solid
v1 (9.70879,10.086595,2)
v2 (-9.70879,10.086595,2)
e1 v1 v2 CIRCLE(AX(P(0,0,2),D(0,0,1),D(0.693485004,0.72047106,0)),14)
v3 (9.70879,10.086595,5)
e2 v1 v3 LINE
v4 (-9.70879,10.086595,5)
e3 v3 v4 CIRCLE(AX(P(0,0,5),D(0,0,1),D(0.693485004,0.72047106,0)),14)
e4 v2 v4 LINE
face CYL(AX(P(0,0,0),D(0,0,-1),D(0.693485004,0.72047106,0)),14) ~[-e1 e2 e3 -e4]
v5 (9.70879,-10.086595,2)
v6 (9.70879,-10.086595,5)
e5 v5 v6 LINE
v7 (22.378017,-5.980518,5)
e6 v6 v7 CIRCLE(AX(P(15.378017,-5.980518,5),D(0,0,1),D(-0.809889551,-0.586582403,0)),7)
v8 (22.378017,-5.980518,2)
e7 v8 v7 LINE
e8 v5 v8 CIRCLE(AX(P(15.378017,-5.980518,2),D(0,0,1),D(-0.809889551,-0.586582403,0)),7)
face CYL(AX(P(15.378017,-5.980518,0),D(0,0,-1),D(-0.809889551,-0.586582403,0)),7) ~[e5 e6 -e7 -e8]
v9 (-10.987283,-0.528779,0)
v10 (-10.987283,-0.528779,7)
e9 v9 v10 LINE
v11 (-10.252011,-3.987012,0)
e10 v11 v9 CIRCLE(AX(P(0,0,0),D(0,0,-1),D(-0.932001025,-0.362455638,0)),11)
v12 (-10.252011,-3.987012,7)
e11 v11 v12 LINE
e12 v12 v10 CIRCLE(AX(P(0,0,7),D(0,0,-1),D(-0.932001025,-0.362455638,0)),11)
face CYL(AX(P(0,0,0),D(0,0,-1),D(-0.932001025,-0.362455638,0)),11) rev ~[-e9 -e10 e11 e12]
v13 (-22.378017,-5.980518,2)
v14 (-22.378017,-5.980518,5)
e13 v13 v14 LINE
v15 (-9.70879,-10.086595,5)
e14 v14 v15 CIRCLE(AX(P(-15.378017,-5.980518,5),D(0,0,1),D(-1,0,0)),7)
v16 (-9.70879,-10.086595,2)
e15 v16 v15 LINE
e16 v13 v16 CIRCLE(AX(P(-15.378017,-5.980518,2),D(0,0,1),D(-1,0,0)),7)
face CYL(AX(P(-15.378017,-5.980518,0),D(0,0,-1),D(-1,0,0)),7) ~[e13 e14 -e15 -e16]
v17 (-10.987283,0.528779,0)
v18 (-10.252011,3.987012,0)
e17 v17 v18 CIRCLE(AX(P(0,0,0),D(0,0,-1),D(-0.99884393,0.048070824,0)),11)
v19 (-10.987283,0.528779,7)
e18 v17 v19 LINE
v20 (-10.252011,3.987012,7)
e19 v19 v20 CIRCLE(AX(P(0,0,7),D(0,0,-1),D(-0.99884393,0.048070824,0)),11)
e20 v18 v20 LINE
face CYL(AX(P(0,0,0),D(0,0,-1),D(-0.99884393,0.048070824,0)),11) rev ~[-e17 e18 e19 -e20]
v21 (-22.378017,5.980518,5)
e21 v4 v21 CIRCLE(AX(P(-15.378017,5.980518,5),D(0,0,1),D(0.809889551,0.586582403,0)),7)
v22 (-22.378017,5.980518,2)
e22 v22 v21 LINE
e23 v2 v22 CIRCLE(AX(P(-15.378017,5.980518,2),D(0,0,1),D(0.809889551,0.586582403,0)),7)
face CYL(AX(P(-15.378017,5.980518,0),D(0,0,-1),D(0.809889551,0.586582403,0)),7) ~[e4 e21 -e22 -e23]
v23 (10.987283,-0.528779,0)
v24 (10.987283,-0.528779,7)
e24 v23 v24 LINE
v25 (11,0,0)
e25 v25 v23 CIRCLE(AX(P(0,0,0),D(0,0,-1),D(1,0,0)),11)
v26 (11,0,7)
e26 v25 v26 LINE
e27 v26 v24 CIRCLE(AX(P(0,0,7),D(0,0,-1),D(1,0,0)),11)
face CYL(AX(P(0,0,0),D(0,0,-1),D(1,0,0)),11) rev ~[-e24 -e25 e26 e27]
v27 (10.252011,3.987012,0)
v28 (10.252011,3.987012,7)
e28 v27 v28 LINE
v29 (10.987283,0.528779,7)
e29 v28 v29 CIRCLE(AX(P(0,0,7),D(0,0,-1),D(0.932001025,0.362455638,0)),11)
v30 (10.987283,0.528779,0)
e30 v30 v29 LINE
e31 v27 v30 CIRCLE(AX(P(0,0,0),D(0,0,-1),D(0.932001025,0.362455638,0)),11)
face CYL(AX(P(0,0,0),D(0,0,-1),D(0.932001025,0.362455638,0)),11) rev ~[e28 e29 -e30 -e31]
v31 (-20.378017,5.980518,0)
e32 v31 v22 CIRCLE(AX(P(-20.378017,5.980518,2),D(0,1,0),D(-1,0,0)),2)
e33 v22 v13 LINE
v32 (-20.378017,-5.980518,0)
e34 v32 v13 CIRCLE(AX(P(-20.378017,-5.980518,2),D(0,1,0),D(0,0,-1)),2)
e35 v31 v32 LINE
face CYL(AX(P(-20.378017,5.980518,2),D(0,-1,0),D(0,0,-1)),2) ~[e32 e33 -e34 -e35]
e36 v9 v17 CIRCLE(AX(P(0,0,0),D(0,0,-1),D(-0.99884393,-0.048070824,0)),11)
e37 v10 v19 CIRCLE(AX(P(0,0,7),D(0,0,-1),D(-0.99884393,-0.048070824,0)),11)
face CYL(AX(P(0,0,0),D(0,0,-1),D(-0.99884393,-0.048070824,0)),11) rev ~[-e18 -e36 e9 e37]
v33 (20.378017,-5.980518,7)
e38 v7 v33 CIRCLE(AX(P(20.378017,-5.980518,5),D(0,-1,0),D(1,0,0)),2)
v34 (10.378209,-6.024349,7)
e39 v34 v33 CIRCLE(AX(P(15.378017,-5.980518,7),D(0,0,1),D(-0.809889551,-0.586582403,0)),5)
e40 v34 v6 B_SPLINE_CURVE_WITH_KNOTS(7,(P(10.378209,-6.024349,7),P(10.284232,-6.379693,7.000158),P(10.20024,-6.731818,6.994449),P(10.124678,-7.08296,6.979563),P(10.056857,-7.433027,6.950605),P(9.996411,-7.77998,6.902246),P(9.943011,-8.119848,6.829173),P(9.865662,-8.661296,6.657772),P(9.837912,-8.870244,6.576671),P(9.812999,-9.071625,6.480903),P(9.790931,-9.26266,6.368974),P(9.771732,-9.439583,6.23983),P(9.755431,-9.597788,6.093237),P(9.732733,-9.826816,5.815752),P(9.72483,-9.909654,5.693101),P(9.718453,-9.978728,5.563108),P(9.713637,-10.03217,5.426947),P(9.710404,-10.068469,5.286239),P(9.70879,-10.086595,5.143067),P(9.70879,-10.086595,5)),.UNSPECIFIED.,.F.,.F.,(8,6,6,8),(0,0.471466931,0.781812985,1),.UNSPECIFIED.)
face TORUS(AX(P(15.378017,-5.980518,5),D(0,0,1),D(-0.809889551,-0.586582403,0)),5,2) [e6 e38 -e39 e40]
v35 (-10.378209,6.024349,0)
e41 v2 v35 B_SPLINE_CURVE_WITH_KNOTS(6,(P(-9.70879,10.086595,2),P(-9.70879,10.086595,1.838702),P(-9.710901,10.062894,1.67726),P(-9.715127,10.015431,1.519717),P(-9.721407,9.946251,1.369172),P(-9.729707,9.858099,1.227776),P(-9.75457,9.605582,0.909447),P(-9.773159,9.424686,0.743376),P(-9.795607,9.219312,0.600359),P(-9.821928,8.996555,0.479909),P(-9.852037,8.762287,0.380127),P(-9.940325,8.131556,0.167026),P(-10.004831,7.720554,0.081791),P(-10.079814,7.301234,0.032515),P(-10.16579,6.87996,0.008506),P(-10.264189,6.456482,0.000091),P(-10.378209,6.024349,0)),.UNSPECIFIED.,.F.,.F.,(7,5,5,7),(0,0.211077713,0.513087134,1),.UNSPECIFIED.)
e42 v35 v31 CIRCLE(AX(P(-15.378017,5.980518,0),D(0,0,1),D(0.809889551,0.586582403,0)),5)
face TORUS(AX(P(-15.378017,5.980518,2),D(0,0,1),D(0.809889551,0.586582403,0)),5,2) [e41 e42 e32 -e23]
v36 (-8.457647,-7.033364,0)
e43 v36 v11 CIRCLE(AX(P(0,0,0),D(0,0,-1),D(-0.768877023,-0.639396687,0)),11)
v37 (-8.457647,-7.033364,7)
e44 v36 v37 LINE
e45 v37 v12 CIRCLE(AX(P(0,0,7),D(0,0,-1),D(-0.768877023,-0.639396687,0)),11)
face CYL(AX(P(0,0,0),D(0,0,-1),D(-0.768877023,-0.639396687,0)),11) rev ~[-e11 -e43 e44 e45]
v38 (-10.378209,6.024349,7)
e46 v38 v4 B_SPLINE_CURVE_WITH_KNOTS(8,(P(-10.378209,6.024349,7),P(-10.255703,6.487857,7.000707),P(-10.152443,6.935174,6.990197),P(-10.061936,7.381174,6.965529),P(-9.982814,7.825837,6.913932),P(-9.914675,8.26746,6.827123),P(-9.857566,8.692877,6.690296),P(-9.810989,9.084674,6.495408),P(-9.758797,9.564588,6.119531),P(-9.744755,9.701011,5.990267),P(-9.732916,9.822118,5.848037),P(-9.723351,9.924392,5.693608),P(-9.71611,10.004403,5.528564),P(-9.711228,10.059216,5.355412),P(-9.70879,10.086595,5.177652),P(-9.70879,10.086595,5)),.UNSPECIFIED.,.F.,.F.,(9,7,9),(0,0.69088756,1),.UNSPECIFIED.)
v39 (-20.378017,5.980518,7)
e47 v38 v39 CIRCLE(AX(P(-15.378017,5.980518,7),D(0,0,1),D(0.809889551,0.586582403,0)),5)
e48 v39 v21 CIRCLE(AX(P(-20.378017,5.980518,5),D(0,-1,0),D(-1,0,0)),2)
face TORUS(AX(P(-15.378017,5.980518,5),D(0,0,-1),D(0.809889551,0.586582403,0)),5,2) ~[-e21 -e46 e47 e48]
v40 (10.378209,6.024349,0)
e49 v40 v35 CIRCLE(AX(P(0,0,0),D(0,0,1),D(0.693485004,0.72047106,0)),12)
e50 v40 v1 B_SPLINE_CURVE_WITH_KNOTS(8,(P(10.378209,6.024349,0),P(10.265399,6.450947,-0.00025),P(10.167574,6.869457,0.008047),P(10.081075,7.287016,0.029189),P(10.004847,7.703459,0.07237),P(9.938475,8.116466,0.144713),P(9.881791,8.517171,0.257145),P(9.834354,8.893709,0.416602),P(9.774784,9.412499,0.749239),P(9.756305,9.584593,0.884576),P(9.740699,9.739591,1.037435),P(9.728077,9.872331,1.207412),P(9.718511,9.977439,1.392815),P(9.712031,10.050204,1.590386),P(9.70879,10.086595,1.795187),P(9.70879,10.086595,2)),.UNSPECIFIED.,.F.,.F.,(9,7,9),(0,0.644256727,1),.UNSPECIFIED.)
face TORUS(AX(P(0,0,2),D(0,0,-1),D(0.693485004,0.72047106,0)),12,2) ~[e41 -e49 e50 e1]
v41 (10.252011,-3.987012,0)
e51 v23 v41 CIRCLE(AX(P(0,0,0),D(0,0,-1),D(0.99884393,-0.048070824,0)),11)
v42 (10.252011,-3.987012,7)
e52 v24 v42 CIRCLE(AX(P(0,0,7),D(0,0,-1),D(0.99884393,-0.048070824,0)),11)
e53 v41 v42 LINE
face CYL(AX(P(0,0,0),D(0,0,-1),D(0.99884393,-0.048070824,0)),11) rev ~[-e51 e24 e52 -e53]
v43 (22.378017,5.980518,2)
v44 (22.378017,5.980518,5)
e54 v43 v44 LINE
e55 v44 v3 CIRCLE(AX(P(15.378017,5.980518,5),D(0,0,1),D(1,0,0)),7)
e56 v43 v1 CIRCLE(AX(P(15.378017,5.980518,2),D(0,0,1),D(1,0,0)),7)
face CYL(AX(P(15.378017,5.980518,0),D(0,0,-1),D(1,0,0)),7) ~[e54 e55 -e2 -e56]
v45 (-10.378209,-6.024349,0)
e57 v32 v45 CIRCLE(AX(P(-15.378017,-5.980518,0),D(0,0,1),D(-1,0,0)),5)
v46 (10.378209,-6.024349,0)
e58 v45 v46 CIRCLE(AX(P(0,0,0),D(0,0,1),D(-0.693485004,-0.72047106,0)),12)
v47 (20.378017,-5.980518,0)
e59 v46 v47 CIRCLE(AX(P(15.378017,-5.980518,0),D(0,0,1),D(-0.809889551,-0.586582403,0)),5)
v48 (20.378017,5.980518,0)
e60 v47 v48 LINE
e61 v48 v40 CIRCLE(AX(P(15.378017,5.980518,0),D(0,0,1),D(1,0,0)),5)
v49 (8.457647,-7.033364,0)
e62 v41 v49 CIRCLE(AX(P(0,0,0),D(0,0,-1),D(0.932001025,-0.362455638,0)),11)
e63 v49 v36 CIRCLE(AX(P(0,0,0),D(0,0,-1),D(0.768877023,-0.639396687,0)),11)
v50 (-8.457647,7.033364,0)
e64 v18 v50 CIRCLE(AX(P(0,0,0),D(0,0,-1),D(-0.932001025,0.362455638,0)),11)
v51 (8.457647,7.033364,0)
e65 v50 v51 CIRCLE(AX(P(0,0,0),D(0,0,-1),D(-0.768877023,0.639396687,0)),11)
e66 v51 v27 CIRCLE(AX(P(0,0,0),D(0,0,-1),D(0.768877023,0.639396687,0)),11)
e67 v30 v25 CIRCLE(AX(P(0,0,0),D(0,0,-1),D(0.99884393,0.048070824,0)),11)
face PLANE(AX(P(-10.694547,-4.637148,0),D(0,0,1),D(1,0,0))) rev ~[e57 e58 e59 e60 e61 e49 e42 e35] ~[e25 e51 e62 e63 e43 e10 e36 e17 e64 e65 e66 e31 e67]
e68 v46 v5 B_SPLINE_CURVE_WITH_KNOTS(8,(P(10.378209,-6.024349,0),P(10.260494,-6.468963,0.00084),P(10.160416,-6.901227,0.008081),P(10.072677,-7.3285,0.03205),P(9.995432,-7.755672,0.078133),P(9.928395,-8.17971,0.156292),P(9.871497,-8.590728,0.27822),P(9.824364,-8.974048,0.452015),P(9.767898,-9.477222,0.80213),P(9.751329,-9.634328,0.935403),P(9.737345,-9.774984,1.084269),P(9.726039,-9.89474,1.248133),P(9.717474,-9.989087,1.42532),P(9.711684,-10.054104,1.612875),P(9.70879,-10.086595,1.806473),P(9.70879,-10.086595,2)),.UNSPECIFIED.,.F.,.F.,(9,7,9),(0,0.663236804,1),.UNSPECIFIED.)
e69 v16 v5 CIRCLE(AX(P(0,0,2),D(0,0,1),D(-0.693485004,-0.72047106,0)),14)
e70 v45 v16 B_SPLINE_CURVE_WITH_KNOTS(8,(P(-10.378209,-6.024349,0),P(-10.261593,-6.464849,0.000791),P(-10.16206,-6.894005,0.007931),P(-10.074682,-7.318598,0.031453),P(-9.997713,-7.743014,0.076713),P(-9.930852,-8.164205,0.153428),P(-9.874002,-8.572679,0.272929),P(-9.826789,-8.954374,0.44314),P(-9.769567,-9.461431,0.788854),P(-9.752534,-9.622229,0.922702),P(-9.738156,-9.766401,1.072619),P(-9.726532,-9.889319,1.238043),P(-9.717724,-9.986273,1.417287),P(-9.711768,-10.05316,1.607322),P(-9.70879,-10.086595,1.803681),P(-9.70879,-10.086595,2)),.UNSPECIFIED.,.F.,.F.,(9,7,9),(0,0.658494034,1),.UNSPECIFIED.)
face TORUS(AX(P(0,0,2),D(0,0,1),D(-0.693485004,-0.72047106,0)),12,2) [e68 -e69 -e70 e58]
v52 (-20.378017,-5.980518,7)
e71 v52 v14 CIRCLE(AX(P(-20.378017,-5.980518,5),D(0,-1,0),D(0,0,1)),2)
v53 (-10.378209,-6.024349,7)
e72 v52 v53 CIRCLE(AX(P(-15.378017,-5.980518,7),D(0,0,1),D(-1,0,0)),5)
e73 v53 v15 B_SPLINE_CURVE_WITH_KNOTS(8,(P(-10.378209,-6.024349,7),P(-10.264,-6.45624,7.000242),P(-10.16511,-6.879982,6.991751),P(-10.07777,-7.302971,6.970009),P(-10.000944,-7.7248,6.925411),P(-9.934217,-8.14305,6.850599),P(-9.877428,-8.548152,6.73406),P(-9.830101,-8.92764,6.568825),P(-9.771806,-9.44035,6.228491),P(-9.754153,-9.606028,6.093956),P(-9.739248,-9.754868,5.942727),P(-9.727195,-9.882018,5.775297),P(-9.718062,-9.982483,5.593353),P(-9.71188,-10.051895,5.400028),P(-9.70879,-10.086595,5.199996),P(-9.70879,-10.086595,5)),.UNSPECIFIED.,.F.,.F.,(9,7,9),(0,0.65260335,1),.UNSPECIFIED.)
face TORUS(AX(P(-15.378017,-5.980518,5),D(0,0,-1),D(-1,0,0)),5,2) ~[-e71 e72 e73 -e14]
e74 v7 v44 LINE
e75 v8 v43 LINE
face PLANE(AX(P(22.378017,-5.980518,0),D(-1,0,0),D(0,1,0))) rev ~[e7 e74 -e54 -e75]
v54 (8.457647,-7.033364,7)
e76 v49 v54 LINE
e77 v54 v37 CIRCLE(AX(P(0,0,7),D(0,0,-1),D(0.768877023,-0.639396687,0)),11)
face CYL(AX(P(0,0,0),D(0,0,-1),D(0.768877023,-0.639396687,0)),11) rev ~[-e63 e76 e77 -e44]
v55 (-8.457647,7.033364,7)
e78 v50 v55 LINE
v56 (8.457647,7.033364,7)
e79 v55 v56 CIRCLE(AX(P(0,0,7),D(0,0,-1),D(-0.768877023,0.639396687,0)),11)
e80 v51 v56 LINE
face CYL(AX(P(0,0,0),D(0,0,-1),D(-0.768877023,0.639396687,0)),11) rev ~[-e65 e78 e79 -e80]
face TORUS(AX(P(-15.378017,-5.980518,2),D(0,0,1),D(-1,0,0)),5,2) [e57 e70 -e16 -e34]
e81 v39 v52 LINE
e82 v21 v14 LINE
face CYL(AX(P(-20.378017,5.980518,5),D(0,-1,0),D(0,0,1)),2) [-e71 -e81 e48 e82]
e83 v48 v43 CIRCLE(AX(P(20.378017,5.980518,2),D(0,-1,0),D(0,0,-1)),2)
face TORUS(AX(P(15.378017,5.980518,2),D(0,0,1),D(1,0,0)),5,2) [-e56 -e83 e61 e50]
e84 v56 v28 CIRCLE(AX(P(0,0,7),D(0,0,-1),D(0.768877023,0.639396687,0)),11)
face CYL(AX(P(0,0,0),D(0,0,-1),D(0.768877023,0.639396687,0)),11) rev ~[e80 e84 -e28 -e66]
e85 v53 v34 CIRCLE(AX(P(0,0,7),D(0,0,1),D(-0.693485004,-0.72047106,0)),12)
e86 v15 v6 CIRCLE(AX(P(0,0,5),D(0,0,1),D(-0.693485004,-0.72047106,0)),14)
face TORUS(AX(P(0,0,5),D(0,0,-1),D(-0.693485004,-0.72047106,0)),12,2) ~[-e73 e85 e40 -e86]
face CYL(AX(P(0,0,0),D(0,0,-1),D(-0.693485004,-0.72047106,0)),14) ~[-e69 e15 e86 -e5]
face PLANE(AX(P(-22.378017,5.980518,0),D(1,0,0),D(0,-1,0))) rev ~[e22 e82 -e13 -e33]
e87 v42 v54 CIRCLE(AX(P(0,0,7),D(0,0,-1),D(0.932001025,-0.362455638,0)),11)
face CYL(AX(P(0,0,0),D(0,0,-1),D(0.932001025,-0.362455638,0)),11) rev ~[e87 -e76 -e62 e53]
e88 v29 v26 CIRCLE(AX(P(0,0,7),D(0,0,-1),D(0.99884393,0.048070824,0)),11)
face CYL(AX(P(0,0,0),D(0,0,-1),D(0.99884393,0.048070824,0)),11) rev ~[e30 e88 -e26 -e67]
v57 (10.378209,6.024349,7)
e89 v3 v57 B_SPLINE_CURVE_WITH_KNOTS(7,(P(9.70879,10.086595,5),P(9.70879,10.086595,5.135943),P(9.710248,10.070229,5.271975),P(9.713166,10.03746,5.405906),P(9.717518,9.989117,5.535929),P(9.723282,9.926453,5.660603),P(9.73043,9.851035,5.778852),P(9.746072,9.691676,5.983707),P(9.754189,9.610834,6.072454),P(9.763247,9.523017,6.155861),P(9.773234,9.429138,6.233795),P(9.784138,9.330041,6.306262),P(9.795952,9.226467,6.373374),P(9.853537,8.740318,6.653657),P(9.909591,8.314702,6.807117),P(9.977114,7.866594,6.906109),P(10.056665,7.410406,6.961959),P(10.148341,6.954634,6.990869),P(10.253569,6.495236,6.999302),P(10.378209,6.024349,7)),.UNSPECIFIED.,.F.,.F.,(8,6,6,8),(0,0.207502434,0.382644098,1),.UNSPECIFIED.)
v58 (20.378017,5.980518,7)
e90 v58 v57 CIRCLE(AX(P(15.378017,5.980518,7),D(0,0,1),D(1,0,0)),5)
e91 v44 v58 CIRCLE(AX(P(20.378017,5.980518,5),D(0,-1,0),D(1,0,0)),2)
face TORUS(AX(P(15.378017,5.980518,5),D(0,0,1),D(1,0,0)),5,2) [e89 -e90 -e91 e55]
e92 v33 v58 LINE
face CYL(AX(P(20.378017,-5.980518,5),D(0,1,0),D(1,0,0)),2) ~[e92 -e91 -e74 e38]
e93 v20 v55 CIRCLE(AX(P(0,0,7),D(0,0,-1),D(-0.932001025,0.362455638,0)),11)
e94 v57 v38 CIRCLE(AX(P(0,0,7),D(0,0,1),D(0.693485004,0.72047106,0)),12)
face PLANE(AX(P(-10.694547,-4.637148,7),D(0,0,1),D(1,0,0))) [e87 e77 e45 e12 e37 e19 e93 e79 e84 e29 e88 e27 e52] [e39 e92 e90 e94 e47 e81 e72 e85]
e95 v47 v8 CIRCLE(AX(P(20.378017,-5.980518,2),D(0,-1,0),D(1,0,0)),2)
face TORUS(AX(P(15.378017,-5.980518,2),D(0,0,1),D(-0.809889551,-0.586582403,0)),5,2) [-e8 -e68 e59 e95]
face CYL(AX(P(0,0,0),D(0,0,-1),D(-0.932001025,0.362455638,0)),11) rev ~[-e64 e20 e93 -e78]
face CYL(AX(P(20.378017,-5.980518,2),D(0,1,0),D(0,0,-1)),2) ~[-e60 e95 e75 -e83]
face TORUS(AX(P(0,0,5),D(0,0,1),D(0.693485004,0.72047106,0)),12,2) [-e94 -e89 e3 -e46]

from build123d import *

# Parameters (mm, degrees)
F1_DEPTH = 7
F2_DEPTH = 7
F3_R     = 2


with BuildPart() as f1:
    # F0 (on Top) → F1 (new body)
    with BuildSketch(Plane.XY):
        with BuildLine():
            ThreePointArc((-9.7087900596, -10.0865948456), (-8.9007458498, -8.6347522936), (-8.4576472505, -7.0333635613))
            ThreePointArc((-8.4576472505, -7.0333635613), (-9.4780216806, -5.5827506682), (-10.2520112756, -3.9870120147))
            ThreePointArc((-10.2520112756, -3.9870120147), (-10.759495877, -2.2876294437), (-10.9872832267, -0.5287790616))
            ThreePointArc((-10.9872832267, -0.5287790616), (-11.3550654803, -0.2520049718), (-11.7402422931, 0))
            ThreePointArc((-11.7402422931, 0), (-12.8185393367, -0.5347774075), (-13.9725087133, -0.8769265967))
            ThreePointArc((-13.9725087133, -0.8769265967), (-13.9710444343, -0.8999541178), (-13.9695422046, -0.9229791942))
            ThreePointArc((-13.9695422046, -0.9229791942), (-11.1972877772, -2.804985958), (-10.1280169134, -5.9805180221))
            ThreePointArc((-10.1280169134, -5.9805180221), (-10.3305835736, -7.4247883157), (-10.9226518395, -8.757606796))
            ThreePointArc((-10.9226518395, -8.757606796), (-10.3371007066, -9.4416285132), (-9.7087900596, -10.0865948456))
        make_face()
        with BuildLine():
            ThreePointArc((-14.0697397209, 0.8961389265), (-15.3780169134, 0.7305180221), (-16.6862941059, 0.8961389265))
            ThreePointArc((-16.6862941059, 0.8961389265), (-17.8913062675, 0.5527335897), (-19.0157915336, 0))
            ThreePointArc((-19.0157915336, 0), (-17.8913062675, -0.5527335897), (-16.6862941059, -0.8961389265))
            ThreePointArc((-16.6862941059, -0.8961389265), (-15.3780169134, -0.7305180221), (-14.0697397209, -0.8961389265))
            ThreePointArc((-14.0697397209, -0.8961389265), (-14.021090214, -0.8867048469), (-13.9725087133, -0.8769265967))
            ThreePointArc((-13.9725087133, -0.8769265967), (-14, 0), (-13.9725087133, 0.8769265967))
            ThreePointArc((-13.9725087133, 0.8769265967), (-14.021090214, 0.8867048469), (-14.0697397209, 0.8961389265))
        make_face()
        with BuildLine():
            ThreePointArc((-22.3780169134, -5.9805180221), (-17.5361888277, -12.6395189973), (-9.7087900596, -10.0865948456))
            ThreePointArc((-9.7087900596, -10.0865948456), (-10.3371007066, -9.4416285132), (-10.9226518395, -8.757606796))
            ThreePointArc((-10.9226518395, -8.757606796), (-19.6120114574, -9.0846749448), (-16.6862941059, -0.8961389265))
            ThreePointArc((-16.6862941059, -0.8961389265), (-17.8913062675, -0.5527335897), (-19.0157915336, 0))
            ThreePointArc((-19.0157915336, 0), (-21.4798372296, -2.5500969358), (-22.3780169134, -5.9805180221))
        make_face()
        with BuildLine():
            ThreePointArc((-13.9725087133, -0.8769265967), (-12.8185393367, -0.5347774075), (-11.7402422931, 0))
            ThreePointArc((-11.7402422931, 0), (-12.8185393367, 0.5347774075), (-13.9725087133, 0.8769265967))
            ThreePointArc((-13.9725087133, 0.8769265967), (-14, 0), (-13.9725087133, -0.8769265967))
        make_face()
        with BuildLine():
            ThreePointArc((-14.0697397209, -0.8961389265), (-14.019574672, -0.90931159), (-13.9695422046, -0.9229791942))
            ThreePointArc((-13.9695422046, -0.9229791942), (-13.9710444343, -0.8999541178), (-13.9725087133, -0.8769265967))
            ThreePointArc((-13.9725087133, -0.8769265967), (-14.021090214, -0.8867048469), (-14.0697397209, -0.8961389265))
        make_face()
        with BuildLine():
            ThreePointArc((-13.9725087133, 0.8769265967), (-13.9710444343, 0.8999541178), (-13.9695422046, 0.9229791942))
            ThreePointArc((-13.9695422046, 0.9229791942), (-14.019574672, 0.90931159), (-14.0697397209, 0.8961389265))
            ThreePointArc((-14.0697397209, 0.8961389265), (-14.021090214, 0.8867048469), (-13.9725087133, 0.8769265967))
        make_face()
        with BuildLine():
            ThreePointArc((-10.9872832267, -0.5287790616), (-11, 0), (-10.9872832267, 0.5287790616))
            ThreePointArc((-10.9872832267, 0.5287790616), (-11.3550654803, 0.2520049718), (-11.7402422931, 0))
            ThreePointArc((-11.7402422931, 0), (-11.3550654803, -0.2520049718), (-10.9872832267, -0.5287790616))
        make_face()
        with BuildLine():
            ThreePointArc((-10.2520112756, 3.9870120147), (-9.4780216806, 5.5827506682), (-8.4576472505, 7.0333635613))
            ThreePointArc((-8.4576472505, 7.0333635613), (-8.9007458498, 8.6347522936), (-9.7087900596, 10.0865948456))
            ThreePointArc((-9.7087900596, 10.0865948456), (-10.3371007066, 9.4416285132), (-10.9226518395, 8.757606796))
            ThreePointArc((-10.9226518395, 8.757606796), (-10.3305835736, 7.4247883157), (-10.1280169134, 5.9805180221))
            ThreePointArc((-10.1280169134, 5.9805180221), (-11.1972877772, 2.804985958), (-13.9695422046, 0.9229791942))
            ThreePointArc((-13.9695422046, 0.9229791942), (-13.9710444343, 0.8999541178), (-13.9725087133, 0.8769265967))
            ThreePointArc((-13.9725087133, 0.8769265967), (-12.8185393367, 0.5347774075), (-11.7402422931, 0))
            ThreePointArc((-11.7402422931, 0), (-11.3550654803, 0.2520049718), (-10.9872832267, 0.5287790616))
            ThreePointArc((-10.9872832267, 0.5287790616), (-10.759495877, 2.2876294437), (-10.2520112756, 3.9870120147))
        make_face()
        with BuildLine():
            ThreePointArc((-10.9226518395, 8.757606796), (-10.3371007066, 9.4416285132), (-9.7087900596, 10.0865948456))
            ThreePointArc((-9.7087900596, 10.0865948456), (-17.5361888277, 12.6395189973), (-22.3780169134, 5.9805180221))
            ThreePointArc((-22.3780169134, 5.9805180221), (-21.4798372296, 2.5500969358), (-19.0157915336, 0))
            ThreePointArc((-19.0157915336, 0), (-17.8913062675, 0.5527335897), (-16.6862941059, 0.8961389265))
            ThreePointArc((-16.6862941059, 0.8961389265), (-19.6120114574, 9.0846749448), (-10.9226518395, 8.757606796))
        make_face()
        with BuildLine():
            ThreePointArc((10.2520112756, 3.9870120147), (10.759495877, 2.2876294437), (10.9872832267, 0.5287790616))
            ThreePointArc((10.9872832267, 0.5287790616), (11.3550654803, 0.2520049718), (11.7402422931, 0))
            ThreePointArc((11.7402422931, 0), (12.8185393367, 0.5347774075), (13.9725087133, 0.8769265967))
            ThreePointArc((13.9725087133, 0.8769265967), (13.9710444343, 0.8999541178), (13.9695422046, 0.9229791942))
            ThreePointArc((13.9695422046, 0.9229791942), (10.4850115318, 4.0776259241), (10.9226518395, 8.757606796))
            ThreePointArc((10.9226518395, 8.757606796), (10.3371007066, 9.4416285132), (9.7087900596, 10.0865948456))
            ThreePointArc((9.7087900596, 10.0865948456), (8.9007458498, 8.6347522936), (8.4576472505, 7.0333635613))
            ThreePointArc((8.4576472505, 7.0333635613), (9.4780216806, 5.5827506682), (10.2520112756, 3.9870120147))
        make_face()
        with BuildLine():
            ThreePointArc((9.7087900596, -10.0865948456), (8.9007458498, -8.6347522936), (8.4576472505, -7.0333635613))
            ThreePointArc((8.4576472505, -7.0333635613), (0, -11), (-8.4576472505, -7.0333635613))
            ThreePointArc((-8.4576472505, -7.0333635613), (-8.9007458498, -8.6347522936), (-9.7087900596, -10.0865948456))
            ThreePointArc((-9.7087900596, -10.0865948456), (0, -14), (9.7087900596, -10.0865948456))
        make_face()
        with BuildLine():
            ThreePointArc((11.7402422931, 0), (11.3550654803, -0.2520049718), (10.9872832267, -0.5287790616))
            ThreePointArc((10.9872832267, -0.5287790616), (10.759495877, -2.2876294437), (10.2520112756, -3.9870120147))
            ThreePointArc((10.2520112756, -3.9870120147), (9.4780216806, -5.5827506682), (8.4576472505, -7.0333635613))
            ThreePointArc((8.4576472505, -7.0333635613), (8.9007458498, -8.6347522936), (9.7087900596, -10.0865948456))
            ThreePointArc((9.7087900596, -10.0865948456), (10.3371007066, -9.4416285132), (10.9226518395, -8.757606796))
            ThreePointArc((10.9226518395, -8.757606796), (10.4850115318, -4.0776259241), (13.9695422046, -0.9229791942))
            ThreePointArc((13.9695422046, -0.9229791942), (13.9710444343, -0.8999541178), (13.9725087133, -0.8769265967))
            ThreePointArc((13.9725087133, -0.8769265967), (12.8185393367, -0.5347774075), (11.7402422931, 0))
        make_face()
        with BuildLine():
            ThreePointArc((9.7087900596, -10.0865948456), (8.9007458498, -8.6347522936), (8.4576472505, -7.0333635613))
            ThreePointArc((8.4576472505, -7.0333635613), (0, -11), (-8.4576472505, -7.0333635613))
            ThreePointArc((-8.4576472505, -7.0333635613), (-8.9007458498, -8.6347522936), (-9.7087900596, -10.0865948456))
            ThreePointArc((-9.7087900596, -10.0865948456), (0, -14), (9.7087900596, -10.0865948456))
        make_face()
        with BuildLine():
            ThreePointArc((10.9872832267, 0.5287790616), (10.9968203471, 0.2644659772), (11, 0))
            ThreePointArc((11, 0), (10.9968203471, -0.2644659772), (10.9872832267, -0.5287790616))
            ThreePointArc((10.9872832267, -0.5287790616), (11.3550654803, -0.2520049718), (11.7402422931, 0))
            ThreePointArc((11.7402422931, 0), (11.3550654803, 0.2520049718), (10.9872832267, 0.5287790616))
        make_face()
        with BuildLine():
            ThreePointArc((22.3780169134, 5.9805180221), (17.5361888277, 12.6395189973), (9.7087900596, 10.0865948456))
            ThreePointArc((9.7087900596, 10.0865948456), (10.3371007066, 9.4416285132), (10.9226518395, 8.757606796))
            ThreePointArc((10.9226518395, 8.757606796), (16.822287207, 11.0279513618), (20.6280169134, 5.9805180221))
            ThreePointArc((20.6280169134, 5.9805180221), (19.5271707585, 2.7638392427), (16.6862941059, 0.8961389265))
            ThreePointArc((16.6862941059, 0.8961389265), (17.8913062675, 0.5527335897), (19.0157915336, 0))
            ThreePointArc((19.0157915336, 0), (21.4798372296, 2.5500969358), (22.3780169134, 5.9805180221))
        make_face()
        with BuildLine():
            Line((22.3780169134, -5.9805180221), (22.3780169134, 5.9805180221))
            ThreePointArc((22.3780169134, 5.9805180221), (21.4798372296, 2.5500969358), (19.0157915336, 0))
            ThreePointArc((19.0157915336, 0), (21.4798372296, -2.5500969358), (22.3780169134, -5.9805180221))
        make_face()
        with BuildLine():
            ThreePointArc((14, 0), (13.9931254905, -0.4386787056), (13.9725087133, -0.8769265967))
            ThreePointArc((13.9725087133, -0.8769265967), (14.021090214, -0.8867048469), (14.0697397209, -0.8961389265))
            ThreePointArc((14.0697397209, -0.8961389265), (15.3780169134, -0.7305180221), (16.6862941059, -0.8961389265))
            ThreePointArc((16.6862941059, -0.8961389265), (17.8913062675, -0.5527335897), (19.0157915336, 0))
            ThreePointArc((19.0157915336, 0), (17.8913062675, 0.5527335897), (16.6862941059, 0.8961389265))
            ThreePointArc((16.6862941059, 0.8961389265), (15.3780169134, 0.7305180221), (14.0697397209, 0.8961389265))
            ThreePointArc((14.0697397209, 0.8961389265), (14.021090214, 0.8867048469), (13.9725087133, 0.8769265967))
            ThreePointArc((13.9725087133, 0.8769265967), (13.9931254905, 0.4386787056), (14, 0))
        make_face()
        with BuildLine():
            ThreePointArc((10.9226518395, -8.757606796), (10.3371007066, -9.4416285132), (9.7087900596, -10.0865948456))
            ThreePointArc((9.7087900596, -10.0865948456), (17.5361888277, -12.6395189973), (22.3780169134, -5.9805180221))
            ThreePointArc((22.3780169134, -5.9805180221), (21.4798372296, -2.5500969358), (19.0157915336, 0))
            ThreePointArc((19.0157915336, 0), (17.8913062675, -0.5527335897), (16.6862941059, -0.8961389265))
            ThreePointArc((16.6862941059, -0.8961389265), (19.5271707585, -2.7638392427), (20.6280169134, -5.9805180221))
            ThreePointArc((20.6280169134, -5.9805180221), (16.822287207, -11.0279513618), (10.9226518395, -8.757606796))
        make_face()
        with BuildLine():
            ThreePointArc((10.2520112756, 3.9870120147), (10.759495877, 2.2876294437), (10.9872832267, 0.5287790616))
            ThreePointArc((10.9872832267, 0.5287790616), (11.3550654803, 0.2520049718), (11.7402422931, 0))
            ThreePointArc((11.7402422931, 0), (12.8185393367, 0.5347774075), (13.9725087133, 0.8769265967))
            ThreePointArc((13.9725087133, 0.8769265967), (13.9710444343, 0.8999541178), (13.9695422046, 0.9229791942))
            ThreePointArc((13.9695422046, 0.9229791942), (10.4850115318, 4.0776259241), (10.9226518395, 8.757606796))
            ThreePointArc((10.9226518395, 8.757606796), (10.3371007066, 9.4416285132), (9.7087900596, 10.0865948456))
            ThreePointArc((9.7087900596, 10.0865948456), (8.9007458498, 8.6347522936), (8.4576472505, 7.0333635613))
            ThreePointArc((8.4576472505, 7.0333635613), (9.4780216806, 5.5827506682), (10.2520112756, 3.9870120147))
        make_face()
        with BuildLine():
            ThreePointArc((14, 0), (13.9931254905, -0.4386787056), (13.9725087133, -0.8769265967))
            ThreePointArc((13.9725087133, -0.8769265967), (14.021090214, -0.8867048469), (14.0697397209, -0.8961389265))
            ThreePointArc((14.0697397209, -0.8961389265), (15.3780169134, -0.7305180221), (16.6862941059, -0.8961389265))
            ThreePointArc((16.6862941059, -0.8961389265), (17.8913062675, -0.5527335897), (19.0157915336, 0))
            ThreePointArc((19.0157915336, 0), (17.8913062675, 0.5527335897), (16.6862941059, 0.8961389265))
            ThreePointArc((16.6862941059, 0.8961389265), (15.3780169134, 0.7305180221), (14.0697397209, 0.8961389265))
            ThreePointArc((14.0697397209, 0.8961389265), (14.021090214, 0.8867048469), (13.9725087133, 0.8769265967))
            ThreePointArc((13.9725087133, 0.8769265967), (13.9931254905, 0.4386787056), (14, 0))
        make_face()
        with BuildLine():
            ThreePointArc((13.9695422046, 0.9229791942), (13.9710444343, 0.8999541178), (13.9725087133, 0.8769265967))
            ThreePointArc((13.9725087133, 0.8769265967), (14.021090214, 0.8867048469), (14.0697397209, 0.8961389265))
            ThreePointArc((14.0697397209, 0.8961389265), (14.019574672, 0.90931159), (13.9695422046, 0.9229791942))
        make_face()
        with BuildLine():
            ThreePointArc((-19.0157915336, 0), (-21.4798372296, 2.5500969358), (-22.3780169134, 5.9805180221))
            Line((-22.3780169134, 5.9805180221), (-22.3780169134, -5.9805180221))
            ThreePointArc((-22.3780169134, -5.9805180221), (-21.4798372296, -2.5500969358), (-19.0157915336, 0))
        make_face()
        with BuildLine():
            ThreePointArc((-8.4576472505, 7.0333635613), (0, 11), (8.4576472505, 7.0333635613))
            ThreePointArc((8.4576472505, 7.0333635613), (8.9007458498, 8.6347522936), (9.7087900596, 10.0865948456))
            ThreePointArc((9.7087900596, 10.0865948456), (0, 14), (-9.7087900596, 10.0865948456))
            ThreePointArc((-9.7087900596, 10.0865948456), (-8.9007458498, 8.6347522936), (-8.4576472505, 7.0333635613))
        make_face()
    extrude(amount=F1_DEPTH)

    # F0 (on Top) → F2 (join)
    with BuildSketch(Plane.XY):
        with BuildLine():
            ThreePointArc((-9.7087900596, -10.0865948456), (-8.9007458498, -8.6347522936), (-8.4576472505, -7.0333635613))
            ThreePointArc((-8.4576472505, -7.0333635613), (-9.4780216806, -5.5827506682), (-10.2520112756, -3.9870120147))
            ThreePointArc((-10.2520112756, -3.9870120147), (-10.759495877, -2.2876294437), (-10.9872832267, -0.5287790616))
            ThreePointArc((-10.9872832267, -0.5287790616), (-11.3550654803, -0.2520049718), (-11.7402422931, 0))
            ThreePointArc((-11.7402422931, 0), (-12.8185393367, -0.5347774075), (-13.9725087133, -0.8769265967))
            ThreePointArc((-13.9725087133, -0.8769265967), (-13.9710444343, -0.8999541178), (-13.9695422046, -0.9229791942))
            ThreePointArc((-13.9695422046, -0.9229791942), (-11.1972877772, -2.804985958), (-10.1280169134, -5.9805180221))
            ThreePointArc((-10.1280169134, -5.9805180221), (-10.3305835736, -7.4247883157), (-10.9226518395, -8.757606796))
            ThreePointArc((-10.9226518395, -8.757606796), (-10.3371007066, -9.4416285132), (-9.7087900596, -10.0865948456))
        make_face()
        with BuildLine():
            ThreePointArc((-22.3780169134, -5.9805180221), (-17.5361888277, -12.6395189973), (-9.7087900596, -10.0865948456))
            ThreePointArc((-9.7087900596, -10.0865948456), (-10.3371007066, -9.4416285132), (-10.9226518395, -8.757606796))
            ThreePointArc((-10.9226518395, -8.757606796), (-19.6120114574, -9.0846749448), (-16.6862941059, -0.8961389265))
            ThreePointArc((-16.6862941059, -0.8961389265), (-17.8913062675, -0.5527335897), (-19.0157915336, 0))
            ThreePointArc((-19.0157915336, 0), (-21.4798372296, -2.5500969358), (-22.3780169134, -5.9805180221))
        make_face()
        with BuildLine():
            ThreePointArc((-14.0697397209, 0.8961389265), (-15.3780169134, 0.7305180221), (-16.6862941059, 0.8961389265))
            ThreePointArc((-16.6862941059, 0.8961389265), (-17.8913062675, 0.5527335897), (-19.0157915336, 0))
            ThreePointArc((-19.0157915336, 0), (-17.8913062675, -0.5527335897), (-16.6862941059, -0.8961389265))
            ThreePointArc((-16.6862941059, -0.8961389265), (-15.3780169134, -0.7305180221), (-14.0697397209, -0.8961389265))
            ThreePointArc((-14.0697397209, -0.8961389265), (-14.021090214, -0.8867048469), (-13.9725087133, -0.8769265967))
            ThreePointArc((-13.9725087133, -0.8769265967), (-14, 0), (-13.9725087133, 0.8769265967))
            ThreePointArc((-13.9725087133, 0.8769265967), (-14.021090214, 0.8867048469), (-14.0697397209, 0.8961389265))
        make_face()
        with BuildLine():
            ThreePointArc((-10.9226518395, 8.757606796), (-10.3371007066, 9.4416285132), (-9.7087900596, 10.0865948456))
            ThreePointArc((-9.7087900596, 10.0865948456), (-17.5361888277, 12.6395189973), (-22.3780169134, 5.9805180221))
            ThreePointArc((-22.3780169134, 5.9805180221), (-21.4798372296, 2.5500969358), (-19.0157915336, 0))
            ThreePointArc((-19.0157915336, 0), (-17.8913062675, 0.5527335897), (-16.6862941059, 0.8961389265))
            ThreePointArc((-16.6862941059, 0.8961389265), (-19.6120114574, 9.0846749448), (-10.9226518395, 8.757606796))
        make_face()
        with BuildLine():
            ThreePointArc((-8.4576472505, 7.0333635613), (0, 11), (8.4576472505, 7.0333635613))
            ThreePointArc((8.4576472505, 7.0333635613), (8.9007458498, 8.6347522936), (9.7087900596, 10.0865948456))
            ThreePointArc((9.7087900596, 10.0865948456), (0, 14), (-9.7087900596, 10.0865948456))
            ThreePointArc((-9.7087900596, 10.0865948456), (-8.9007458498, 8.6347522936), (-8.4576472505, 7.0333635613))
        make_face()
        with BuildLine():
            ThreePointArc((-10.1280169134, 5.9805180221), (-10.3305835736, 7.4247883157), (-10.9226518395, 8.757606796))
            ThreePointArc((-10.9226518395, 8.757606796), (-13.0480143507, 5.0743789278), (-13.9695422046, 0.9229791942))
            ThreePointArc((-13.9695422046, 0.9229791942), (-11.1972877772, 2.804985958), (-10.1280169134, 5.9805180221))
        make_face()
        with BuildLine():
            ThreePointArc((-13.9695422046, 0.9229791942), (-13.0480143507, 5.0743789278), (-10.9226518395, 8.757606796))
            ThreePointArc((-10.9226518395, 8.757606796), (-19.6120114574, 9.0846749448), (-16.6862941059, 0.8961389265))
            ThreePointArc((-16.6862941059, 0.8961389265), (-15.3780169134, 1.0194819779), (-14.0697397209, 0.8961389265))
            ThreePointArc((-14.0697397209, 0.8961389265), (-14.019574672, 0.90931159), (-13.9695422046, 0.9229791942))
        make_face()
        with BuildLine():
            ThreePointArc((-10.2520112756, 3.9870120147), (-9.4780216806, 5.5827506682), (-8.4576472505, 7.0333635613))
            ThreePointArc((-8.4576472505, 7.0333635613), (-8.9007458498, 8.6347522936), (-9.7087900596, 10.0865948456))
            ThreePointArc((-9.7087900596, 10.0865948456), (-10.3371007066, 9.4416285132), (-10.9226518395, 8.757606796))
            ThreePointArc((-10.9226518395, 8.757606796), (-10.3305835736, 7.4247883157), (-10.1280169134, 5.9805180221))
            ThreePointArc((-10.1280169134, 5.9805180221), (-11.1972877772, 2.804985958), (-13.9695422046, 0.9229791942))
            ThreePointArc((-13.9695422046, 0.9229791942), (-13.9710444343, 0.8999541178), (-13.9725087133, 0.8769265967))
            ThreePointArc((-13.9725087133, 0.8769265967), (-12.8185393367, 0.5347774075), (-11.7402422931, 0))
            ThreePointArc((-11.7402422931, 0), (-11.3550654803, 0.2520049718), (-10.9872832267, 0.5287790616))
            ThreePointArc((-10.9872832267, 0.5287790616), (-10.759495877, 2.2876294437), (-10.2520112756, 3.9870120147))
        make_face()
        with BuildLine():
            ThreePointArc((-13.9725087133, -0.8769265967), (-12.8185393367, -0.5347774075), (-11.7402422931, 0))
            ThreePointArc((-11.7402422931, 0), (-12.8185393367, 0.5347774075), (-13.9725087133, 0.8769265967))
            ThreePointArc((-13.9725087133, 0.8769265967), (-14, 0), (-13.9725087133, -0.8769265967))
        make_face()
        with BuildLine():
            ThreePointArc((-13.9695422046, -0.9229791942), (-13.0480143507, -5.0743789278), (-10.9226518395, -8.757606796))
            ThreePointArc((-10.9226518395, -8.757606796), (-10.3305835736, -7.4247883157), (-10.1280169134, -5.9805180221))
            ThreePointArc((-10.1280169134, -5.9805180221), (-11.1972877772, -2.804985958), (-13.9695422046, -0.9229791942))
        make_face()
        with BuildLine():
            ThreePointArc((9.7087900596, -10.0865948456), (8.9007458498, -8.6347522936), (8.4576472505, -7.0333635613))
            ThreePointArc((8.4576472505, -7.0333635613), (0, -11), (-8.4576472505, -7.0333635613))
            ThreePointArc((-8.4576472505, -7.0333635613), (-8.9007458498, -8.6347522936), (-9.7087900596, -10.0865948456))
            ThreePointArc((-9.7087900596, -10.0865948456), (0, -14), (9.7087900596, -10.0865948456))
        make_face()
        with BuildLine():
            ThreePointArc((11.7402422931, 0), (11.3550654803, -0.2520049718), (10.9872832267, -0.5287790616))
            ThreePointArc((10.9872832267, -0.5287790616), (10.759495877, -2.2876294437), (10.2520112756, -3.9870120147))
            ThreePointArc((10.2520112756, -3.9870120147), (9.4780216806, -5.5827506682), (8.4576472505, -7.0333635613))
            ThreePointArc((8.4576472505, -7.0333635613), (8.9007458498, -8.6347522936), (9.7087900596, -10.0865948456))
            ThreePointArc((9.7087900596, -10.0865948456), (10.3371007066, -9.4416285132), (10.9226518395, -8.757606796))
            ThreePointArc((10.9226518395, -8.757606796), (10.4850115318, -4.0776259241), (13.9695422046, -0.9229791942))
            ThreePointArc((13.9695422046, -0.9229791942), (13.9710444343, -0.8999541178), (13.9725087133, -0.8769265967))
            ThreePointArc((13.9725087133, -0.8769265967), (12.8185393367, -0.5347774075), (11.7402422931, 0))
        make_face()
        with BuildLine():
            ThreePointArc((-16.6862941059, -0.8961389265), (-19.6120114574, -9.0846749448), (-10.9226518395, -8.757606796))
            ThreePointArc((-10.9226518395, -8.757606796), (-13.0480143507, -5.0743789278), (-13.9695422046, -0.9229791942))
            ThreePointArc((-13.9695422046, -0.9229791942), (-14.019574672, -0.90931159), (-14.0697397209, -0.8961389265))
            ThreePointArc((-14.0697397209, -0.8961389265), (-15.3780169134, -1.0194819779), (-16.6862941059, -0.8961389265))
        make_face()
        with BuildLine():
            ThreePointArc((10.9226518395, -8.757606796), (13.0480143507, -5.0743789278), (13.9695422046, -0.9229791942))
            ThreePointArc((13.9695422046, -0.9229791942), (10.4850115318, -4.0776259241), (10.9226518395, -8.757606796))
        make_face()
        with BuildLine():
            ThreePointArc((13.9725087133, 0.8769265967), (12.8185393367, 0.5347774075), (11.7402422931, 0))
            ThreePointArc((11.7402422931, 0), (12.8185393367, -0.5347774075), (13.9725087133, -0.8769265967))
            ThreePointArc((13.9725087133, -0.8769265967), (13.9931254905, -0.4386787056), (14, 0))
            ThreePointArc((14, 0), (13.9931254905, 0.4386787056), (13.9725087133, 0.8769265967))
        make_face()
        with BuildLine():
            ThreePointArc((10.2520112756, 3.9870120147), (10.759495877, 2.2876294437), (10.9872832267, 0.5287790616))
            ThreePointArc((10.9872832267, 0.5287790616), (11.3550654803, 0.2520049718), (11.7402422931, 0))
            ThreePointArc((11.7402422931, 0), (12.8185393367, 0.5347774075), (13.9725087133, 0.8769265967))
            ThreePointArc((13.9725087133, 0.8769265967), (13.9710444343, 0.8999541178), (13.9695422046, 0.9229791942))
            ThreePointArc((13.9695422046, 0.9229791942), (10.4850115318, 4.0776259241), (10.9226518395, 8.757606796))
            ThreePointArc((10.9226518395, 8.757606796), (10.3371007066, 9.4416285132), (9.7087900596, 10.0865948456))
            ThreePointArc((9.7087900596, 10.0865948456), (8.9007458498, 8.6347522936), (8.4576472505, 7.0333635613))
            ThreePointArc((8.4576472505, 7.0333635613), (9.4780216806, 5.5827506682), (10.2520112756, 3.9870120147))
        make_face()
        with BuildLine():
            ThreePointArc((10.9226518395, 8.757606796), (10.4850115318, 4.0776259241), (13.9695422046, 0.9229791942))
            ThreePointArc((13.9695422046, 0.9229791942), (13.0480143507, 5.0743789278), (10.9226518395, 8.757606796))
        make_face()
        with BuildLine():
            ThreePointArc((22.3780169134, 5.9805180221), (17.5361888277, 12.6395189973), (9.7087900596, 10.0865948456))
            ThreePointArc((9.7087900596, 10.0865948456), (10.3371007066, 9.4416285132), (10.9226518395, 8.757606796))
            ThreePointArc((10.9226518395, 8.757606796), (16.822287207, 11.0279513618), (20.6280169134, 5.9805180221))
            ThreePointArc((20.6280169134, 5.9805180221), (19.5271707585, 2.7638392427), (16.6862941059, 0.8961389265))
            ThreePointArc((16.6862941059, 0.8961389265), (17.8913062675, 0.5527335897), (19.0157915336, 0))
            ThreePointArc((19.0157915336, 0), (21.4798372296, 2.5500969358), (22.3780169134, 5.9805180221))
        make_face()
        with BuildLine():
            ThreePointArc((14, 0), (13.9931254905, -0.4386787056), (13.9725087133, -0.8769265967))
            ThreePointArc((13.9725087133, -0.8769265967), (14.021090214, -0.8867048469), (14.0697397209, -0.8961389265))
            ThreePointArc((14.0697397209, -0.8961389265), (15.3780169134, -0.7305180221), (16.6862941059, -0.8961389265))
            ThreePointArc((16.6862941059, -0.8961389265), (17.8913062675, -0.5527335897), (19.0157915336, 0))
            ThreePointArc((19.0157915336, 0), (17.8913062675, 0.5527335897), (16.6862941059, 0.8961389265))
            ThreePointArc((16.6862941059, 0.8961389265), (15.3780169134, 0.7305180221), (14.0697397209, 0.8961389265))
            ThreePointArc((14.0697397209, 0.8961389265), (14.021090214, 0.8867048469), (13.9725087133, 0.8769265967))
            ThreePointArc((13.9725087133, 0.8769265967), (13.9931254905, 0.4386787056), (14, 0))
        make_face()
        with BuildLine():
            ThreePointArc((-14.0697397209, -0.8961389265), (-14.019574672, -0.90931159), (-13.9695422046, -0.9229791942))
            ThreePointArc((-13.9695422046, -0.9229791942), (-13.9710444343, -0.8999541178), (-13.9725087133, -0.8769265967))
            ThreePointArc((-13.9725087133, -0.8769265967), (-14.021090214, -0.8867048469), (-14.0697397209, -0.8961389265))
        make_face()
        with BuildLine():
            ThreePointArc((-13.9725087133, 0.8769265967), (-13.9710444343, 0.8999541178), (-13.9695422046, 0.9229791942))
            ThreePointArc((-13.9695422046, 0.9229791942), (-14.019574672, 0.90931159), (-14.0697397209, 0.8961389265))
            ThreePointArc((-14.0697397209, 0.8961389265), (-14.021090214, 0.8867048469), (-13.9725087133, 0.8769265967))
        make_face()
        with BuildLine():
            ThreePointArc((10.9226518395, -8.757606796), (10.3371007066, -9.4416285132), (9.7087900596, -10.0865948456))
            ThreePointArc((9.7087900596, -10.0865948456), (17.5361888277, -12.6395189973), (22.3780169134, -5.9805180221))
            ThreePointArc((22.3780169134, -5.9805180221), (21.4798372296, -2.5500969358), (19.0157915336, 0))
            ThreePointArc((19.0157915336, 0), (17.8913062675, -0.5527335897), (16.6862941059, -0.8961389265))
            ThreePointArc((16.6862941059, -0.8961389265), (19.5271707585, -2.7638392427), (20.6280169134, -5.9805180221))
            ThreePointArc((20.6280169134, -5.9805180221), (16.822287207, -11.0279513618), (10.9226518395, -8.757606796))
        make_face()
        with BuildLine():
            ThreePointArc((14.0697397209, -0.8961389265), (14.019574672, -0.90931159), (13.9695422046, -0.9229791942))
            ThreePointArc((13.9695422046, -0.9229791942), (13.0480143507, -5.0743789278), (10.9226518395, -8.757606796))
            ThreePointArc((10.9226518395, -8.757606796), (16.822287207, -11.0279513618), (20.6280169134, -5.9805180221))
            ThreePointArc((20.6280169134, -5.9805180221), (19.5271707585, -2.7638392427), (16.6862941059, -0.8961389265))
            ThreePointArc((16.6862941059, -0.8961389265), (15.3780169134, -1.0194819779), (14.0697397209, -0.8961389265))
        make_face()
        with BuildLine():
            ThreePointArc((-14.0697397209, 0.8961389265), (-15.3780169134, 1.0194819779), (-16.6862941059, 0.8961389265))
            ThreePointArc((-16.6862941059, 0.8961389265), (-15.3780169134, 0.7305180221), (-14.0697397209, 0.8961389265))
        make_face()
        with BuildLine():
            ThreePointArc((-14.0697397209, -0.8961389265), (-15.3780169134, -0.7305180221), (-16.6862941059, -0.8961389265))
            ThreePointArc((-16.6862941059, -0.8961389265), (-15.3780169134, -1.0194819779), (-14.0697397209, -0.8961389265))
        make_face()
        with BuildLine():
            ThreePointArc((14.0697397209, -0.8961389265), (14.021090214, -0.8867048469), (13.9725087133, -0.8769265967))
            ThreePointArc((13.9725087133, -0.8769265967), (13.9710444343, -0.8999541178), (13.9695422046, -0.9229791942))
            ThreePointArc((13.9695422046, -0.9229791942), (14.019574672, -0.90931159), (14.0697397209, -0.8961389265))
        make_face()
        with BuildLine():
            ThreePointArc((16.6862941059, -0.8961389265), (15.3780169134, -0.7305180221), (14.0697397209, -0.8961389265))
            ThreePointArc((14.0697397209, -0.8961389265), (15.3780169134, -1.0194819779), (16.6862941059, -0.8961389265))
        make_face()
        with BuildLine():
            ThreePointArc((13.9695422046, 0.9229791942), (13.9710444343, 0.8999541178), (13.9725087133, 0.8769265967))
            ThreePointArc((13.9725087133, 0.8769265967), (14.021090214, 0.8867048469), (14.0697397209, 0.8961389265))
            ThreePointArc((14.0697397209, 0.8961389265), (14.019574672, 0.90931159), (13.9695422046, 0.9229791942))
        make_face()
        with BuildLine():
            ThreePointArc((16.6862941059, 0.8961389265), (15.3780169134, 1.0194819779), (14.0697397209, 0.8961389265))
            ThreePointArc((14.0697397209, 0.8961389265), (15.3780169134, 0.7305180221), (16.6862941059, 0.8961389265))
        make_face()
        with BuildLine():
            ThreePointArc((10.9872832267, 0.5287790616), (10.9968203471, 0.2644659772), (11, 0))
            ThreePointArc((11, 0), (10.9968203471, -0.2644659772), (10.9872832267, -0.5287790616))
            ThreePointArc((10.9872832267, -0.5287790616), (11.3550654803, -0.2520049718), (11.7402422931, 0))
            ThreePointArc((11.7402422931, 0), (11.3550654803, 0.2520049718), (10.9872832267, 0.5287790616))
        make_face()
        with BuildLine():
            ThreePointArc((-10.9872832267, -0.5287790616), (-11, 0), (-10.9872832267, 0.5287790616))
            ThreePointArc((-10.9872832267, 0.5287790616), (-11.3550654803, 0.2520049718), (-11.7402422931, 0))
            ThreePointArc((-11.7402422931, 0), (-11.3550654803, -0.2520049718), (-10.9872832267, -0.5287790616))
        make_face()
        with BuildLine():
            ThreePointArc((10.9226518395, 8.757606796), (13.0480143507, 5.0743789278), (13.9695422046, 0.9229791942))
            ThreePointArc((13.9695422046, 0.9229791942), (14.019574672, 0.90931159), (14.0697397209, 0.8961389265))
            ThreePointArc((14.0697397209, 0.8961389265), (15.3780169134, 1.0194819779), (16.6862941059, 0.8961389265))
            ThreePointArc((16.6862941059, 0.8961389265), (19.5271707585, 2.7638392427), (20.6280169134, 5.9805180221))
            ThreePointArc((20.6280169134, 5.9805180221), (16.822287207, 11.0279513618), (10.9226518395, 8.757606796))
        make_face()
        with BuildLine():
            Line((22.3780169134, -5.9805180221), (22.3780169134, 5.9805180221))
            ThreePointArc((22.3780169134, 5.9805180221), (21.4798372296, 2.5500969358), (19.0157915336, 0))
            ThreePointArc((19.0157915336, 0), (21.4798372296, -2.5500969358), (22.3780169134, -5.9805180221))
        make_face()
        with BuildLine():
            ThreePointArc((-19.0157915336, 0), (-21.4798372296, 2.5500969358), (-22.3780169134, 5.9805180221))
            Line((-22.3780169134, 5.9805180221), (-22.3780169134, -5.9805180221))
            ThreePointArc((-22.3780169134, -5.9805180221), (-21.4798372296, -2.5500969358), (-19.0157915336, 0))
        make_face()
    extrude(amount=F2_DEPTH)

    # F3
    f3_edges = [f1.edges().sort_by_distance(p)[0] for p in [
        (0, -14, 7),
        (0, -14, 0),
        (17.536189, -12.639519, 0),
        (0, 14, 0),
        (-17.536189, 12.639519, 0),
        (-17.536189, -12.639519, 7),
        (0, 14, 7),
        (17.536189, 12.639519, 7),
    ]]
    fillet(f3_edges, radius=F3_R)


solid = f1.part
